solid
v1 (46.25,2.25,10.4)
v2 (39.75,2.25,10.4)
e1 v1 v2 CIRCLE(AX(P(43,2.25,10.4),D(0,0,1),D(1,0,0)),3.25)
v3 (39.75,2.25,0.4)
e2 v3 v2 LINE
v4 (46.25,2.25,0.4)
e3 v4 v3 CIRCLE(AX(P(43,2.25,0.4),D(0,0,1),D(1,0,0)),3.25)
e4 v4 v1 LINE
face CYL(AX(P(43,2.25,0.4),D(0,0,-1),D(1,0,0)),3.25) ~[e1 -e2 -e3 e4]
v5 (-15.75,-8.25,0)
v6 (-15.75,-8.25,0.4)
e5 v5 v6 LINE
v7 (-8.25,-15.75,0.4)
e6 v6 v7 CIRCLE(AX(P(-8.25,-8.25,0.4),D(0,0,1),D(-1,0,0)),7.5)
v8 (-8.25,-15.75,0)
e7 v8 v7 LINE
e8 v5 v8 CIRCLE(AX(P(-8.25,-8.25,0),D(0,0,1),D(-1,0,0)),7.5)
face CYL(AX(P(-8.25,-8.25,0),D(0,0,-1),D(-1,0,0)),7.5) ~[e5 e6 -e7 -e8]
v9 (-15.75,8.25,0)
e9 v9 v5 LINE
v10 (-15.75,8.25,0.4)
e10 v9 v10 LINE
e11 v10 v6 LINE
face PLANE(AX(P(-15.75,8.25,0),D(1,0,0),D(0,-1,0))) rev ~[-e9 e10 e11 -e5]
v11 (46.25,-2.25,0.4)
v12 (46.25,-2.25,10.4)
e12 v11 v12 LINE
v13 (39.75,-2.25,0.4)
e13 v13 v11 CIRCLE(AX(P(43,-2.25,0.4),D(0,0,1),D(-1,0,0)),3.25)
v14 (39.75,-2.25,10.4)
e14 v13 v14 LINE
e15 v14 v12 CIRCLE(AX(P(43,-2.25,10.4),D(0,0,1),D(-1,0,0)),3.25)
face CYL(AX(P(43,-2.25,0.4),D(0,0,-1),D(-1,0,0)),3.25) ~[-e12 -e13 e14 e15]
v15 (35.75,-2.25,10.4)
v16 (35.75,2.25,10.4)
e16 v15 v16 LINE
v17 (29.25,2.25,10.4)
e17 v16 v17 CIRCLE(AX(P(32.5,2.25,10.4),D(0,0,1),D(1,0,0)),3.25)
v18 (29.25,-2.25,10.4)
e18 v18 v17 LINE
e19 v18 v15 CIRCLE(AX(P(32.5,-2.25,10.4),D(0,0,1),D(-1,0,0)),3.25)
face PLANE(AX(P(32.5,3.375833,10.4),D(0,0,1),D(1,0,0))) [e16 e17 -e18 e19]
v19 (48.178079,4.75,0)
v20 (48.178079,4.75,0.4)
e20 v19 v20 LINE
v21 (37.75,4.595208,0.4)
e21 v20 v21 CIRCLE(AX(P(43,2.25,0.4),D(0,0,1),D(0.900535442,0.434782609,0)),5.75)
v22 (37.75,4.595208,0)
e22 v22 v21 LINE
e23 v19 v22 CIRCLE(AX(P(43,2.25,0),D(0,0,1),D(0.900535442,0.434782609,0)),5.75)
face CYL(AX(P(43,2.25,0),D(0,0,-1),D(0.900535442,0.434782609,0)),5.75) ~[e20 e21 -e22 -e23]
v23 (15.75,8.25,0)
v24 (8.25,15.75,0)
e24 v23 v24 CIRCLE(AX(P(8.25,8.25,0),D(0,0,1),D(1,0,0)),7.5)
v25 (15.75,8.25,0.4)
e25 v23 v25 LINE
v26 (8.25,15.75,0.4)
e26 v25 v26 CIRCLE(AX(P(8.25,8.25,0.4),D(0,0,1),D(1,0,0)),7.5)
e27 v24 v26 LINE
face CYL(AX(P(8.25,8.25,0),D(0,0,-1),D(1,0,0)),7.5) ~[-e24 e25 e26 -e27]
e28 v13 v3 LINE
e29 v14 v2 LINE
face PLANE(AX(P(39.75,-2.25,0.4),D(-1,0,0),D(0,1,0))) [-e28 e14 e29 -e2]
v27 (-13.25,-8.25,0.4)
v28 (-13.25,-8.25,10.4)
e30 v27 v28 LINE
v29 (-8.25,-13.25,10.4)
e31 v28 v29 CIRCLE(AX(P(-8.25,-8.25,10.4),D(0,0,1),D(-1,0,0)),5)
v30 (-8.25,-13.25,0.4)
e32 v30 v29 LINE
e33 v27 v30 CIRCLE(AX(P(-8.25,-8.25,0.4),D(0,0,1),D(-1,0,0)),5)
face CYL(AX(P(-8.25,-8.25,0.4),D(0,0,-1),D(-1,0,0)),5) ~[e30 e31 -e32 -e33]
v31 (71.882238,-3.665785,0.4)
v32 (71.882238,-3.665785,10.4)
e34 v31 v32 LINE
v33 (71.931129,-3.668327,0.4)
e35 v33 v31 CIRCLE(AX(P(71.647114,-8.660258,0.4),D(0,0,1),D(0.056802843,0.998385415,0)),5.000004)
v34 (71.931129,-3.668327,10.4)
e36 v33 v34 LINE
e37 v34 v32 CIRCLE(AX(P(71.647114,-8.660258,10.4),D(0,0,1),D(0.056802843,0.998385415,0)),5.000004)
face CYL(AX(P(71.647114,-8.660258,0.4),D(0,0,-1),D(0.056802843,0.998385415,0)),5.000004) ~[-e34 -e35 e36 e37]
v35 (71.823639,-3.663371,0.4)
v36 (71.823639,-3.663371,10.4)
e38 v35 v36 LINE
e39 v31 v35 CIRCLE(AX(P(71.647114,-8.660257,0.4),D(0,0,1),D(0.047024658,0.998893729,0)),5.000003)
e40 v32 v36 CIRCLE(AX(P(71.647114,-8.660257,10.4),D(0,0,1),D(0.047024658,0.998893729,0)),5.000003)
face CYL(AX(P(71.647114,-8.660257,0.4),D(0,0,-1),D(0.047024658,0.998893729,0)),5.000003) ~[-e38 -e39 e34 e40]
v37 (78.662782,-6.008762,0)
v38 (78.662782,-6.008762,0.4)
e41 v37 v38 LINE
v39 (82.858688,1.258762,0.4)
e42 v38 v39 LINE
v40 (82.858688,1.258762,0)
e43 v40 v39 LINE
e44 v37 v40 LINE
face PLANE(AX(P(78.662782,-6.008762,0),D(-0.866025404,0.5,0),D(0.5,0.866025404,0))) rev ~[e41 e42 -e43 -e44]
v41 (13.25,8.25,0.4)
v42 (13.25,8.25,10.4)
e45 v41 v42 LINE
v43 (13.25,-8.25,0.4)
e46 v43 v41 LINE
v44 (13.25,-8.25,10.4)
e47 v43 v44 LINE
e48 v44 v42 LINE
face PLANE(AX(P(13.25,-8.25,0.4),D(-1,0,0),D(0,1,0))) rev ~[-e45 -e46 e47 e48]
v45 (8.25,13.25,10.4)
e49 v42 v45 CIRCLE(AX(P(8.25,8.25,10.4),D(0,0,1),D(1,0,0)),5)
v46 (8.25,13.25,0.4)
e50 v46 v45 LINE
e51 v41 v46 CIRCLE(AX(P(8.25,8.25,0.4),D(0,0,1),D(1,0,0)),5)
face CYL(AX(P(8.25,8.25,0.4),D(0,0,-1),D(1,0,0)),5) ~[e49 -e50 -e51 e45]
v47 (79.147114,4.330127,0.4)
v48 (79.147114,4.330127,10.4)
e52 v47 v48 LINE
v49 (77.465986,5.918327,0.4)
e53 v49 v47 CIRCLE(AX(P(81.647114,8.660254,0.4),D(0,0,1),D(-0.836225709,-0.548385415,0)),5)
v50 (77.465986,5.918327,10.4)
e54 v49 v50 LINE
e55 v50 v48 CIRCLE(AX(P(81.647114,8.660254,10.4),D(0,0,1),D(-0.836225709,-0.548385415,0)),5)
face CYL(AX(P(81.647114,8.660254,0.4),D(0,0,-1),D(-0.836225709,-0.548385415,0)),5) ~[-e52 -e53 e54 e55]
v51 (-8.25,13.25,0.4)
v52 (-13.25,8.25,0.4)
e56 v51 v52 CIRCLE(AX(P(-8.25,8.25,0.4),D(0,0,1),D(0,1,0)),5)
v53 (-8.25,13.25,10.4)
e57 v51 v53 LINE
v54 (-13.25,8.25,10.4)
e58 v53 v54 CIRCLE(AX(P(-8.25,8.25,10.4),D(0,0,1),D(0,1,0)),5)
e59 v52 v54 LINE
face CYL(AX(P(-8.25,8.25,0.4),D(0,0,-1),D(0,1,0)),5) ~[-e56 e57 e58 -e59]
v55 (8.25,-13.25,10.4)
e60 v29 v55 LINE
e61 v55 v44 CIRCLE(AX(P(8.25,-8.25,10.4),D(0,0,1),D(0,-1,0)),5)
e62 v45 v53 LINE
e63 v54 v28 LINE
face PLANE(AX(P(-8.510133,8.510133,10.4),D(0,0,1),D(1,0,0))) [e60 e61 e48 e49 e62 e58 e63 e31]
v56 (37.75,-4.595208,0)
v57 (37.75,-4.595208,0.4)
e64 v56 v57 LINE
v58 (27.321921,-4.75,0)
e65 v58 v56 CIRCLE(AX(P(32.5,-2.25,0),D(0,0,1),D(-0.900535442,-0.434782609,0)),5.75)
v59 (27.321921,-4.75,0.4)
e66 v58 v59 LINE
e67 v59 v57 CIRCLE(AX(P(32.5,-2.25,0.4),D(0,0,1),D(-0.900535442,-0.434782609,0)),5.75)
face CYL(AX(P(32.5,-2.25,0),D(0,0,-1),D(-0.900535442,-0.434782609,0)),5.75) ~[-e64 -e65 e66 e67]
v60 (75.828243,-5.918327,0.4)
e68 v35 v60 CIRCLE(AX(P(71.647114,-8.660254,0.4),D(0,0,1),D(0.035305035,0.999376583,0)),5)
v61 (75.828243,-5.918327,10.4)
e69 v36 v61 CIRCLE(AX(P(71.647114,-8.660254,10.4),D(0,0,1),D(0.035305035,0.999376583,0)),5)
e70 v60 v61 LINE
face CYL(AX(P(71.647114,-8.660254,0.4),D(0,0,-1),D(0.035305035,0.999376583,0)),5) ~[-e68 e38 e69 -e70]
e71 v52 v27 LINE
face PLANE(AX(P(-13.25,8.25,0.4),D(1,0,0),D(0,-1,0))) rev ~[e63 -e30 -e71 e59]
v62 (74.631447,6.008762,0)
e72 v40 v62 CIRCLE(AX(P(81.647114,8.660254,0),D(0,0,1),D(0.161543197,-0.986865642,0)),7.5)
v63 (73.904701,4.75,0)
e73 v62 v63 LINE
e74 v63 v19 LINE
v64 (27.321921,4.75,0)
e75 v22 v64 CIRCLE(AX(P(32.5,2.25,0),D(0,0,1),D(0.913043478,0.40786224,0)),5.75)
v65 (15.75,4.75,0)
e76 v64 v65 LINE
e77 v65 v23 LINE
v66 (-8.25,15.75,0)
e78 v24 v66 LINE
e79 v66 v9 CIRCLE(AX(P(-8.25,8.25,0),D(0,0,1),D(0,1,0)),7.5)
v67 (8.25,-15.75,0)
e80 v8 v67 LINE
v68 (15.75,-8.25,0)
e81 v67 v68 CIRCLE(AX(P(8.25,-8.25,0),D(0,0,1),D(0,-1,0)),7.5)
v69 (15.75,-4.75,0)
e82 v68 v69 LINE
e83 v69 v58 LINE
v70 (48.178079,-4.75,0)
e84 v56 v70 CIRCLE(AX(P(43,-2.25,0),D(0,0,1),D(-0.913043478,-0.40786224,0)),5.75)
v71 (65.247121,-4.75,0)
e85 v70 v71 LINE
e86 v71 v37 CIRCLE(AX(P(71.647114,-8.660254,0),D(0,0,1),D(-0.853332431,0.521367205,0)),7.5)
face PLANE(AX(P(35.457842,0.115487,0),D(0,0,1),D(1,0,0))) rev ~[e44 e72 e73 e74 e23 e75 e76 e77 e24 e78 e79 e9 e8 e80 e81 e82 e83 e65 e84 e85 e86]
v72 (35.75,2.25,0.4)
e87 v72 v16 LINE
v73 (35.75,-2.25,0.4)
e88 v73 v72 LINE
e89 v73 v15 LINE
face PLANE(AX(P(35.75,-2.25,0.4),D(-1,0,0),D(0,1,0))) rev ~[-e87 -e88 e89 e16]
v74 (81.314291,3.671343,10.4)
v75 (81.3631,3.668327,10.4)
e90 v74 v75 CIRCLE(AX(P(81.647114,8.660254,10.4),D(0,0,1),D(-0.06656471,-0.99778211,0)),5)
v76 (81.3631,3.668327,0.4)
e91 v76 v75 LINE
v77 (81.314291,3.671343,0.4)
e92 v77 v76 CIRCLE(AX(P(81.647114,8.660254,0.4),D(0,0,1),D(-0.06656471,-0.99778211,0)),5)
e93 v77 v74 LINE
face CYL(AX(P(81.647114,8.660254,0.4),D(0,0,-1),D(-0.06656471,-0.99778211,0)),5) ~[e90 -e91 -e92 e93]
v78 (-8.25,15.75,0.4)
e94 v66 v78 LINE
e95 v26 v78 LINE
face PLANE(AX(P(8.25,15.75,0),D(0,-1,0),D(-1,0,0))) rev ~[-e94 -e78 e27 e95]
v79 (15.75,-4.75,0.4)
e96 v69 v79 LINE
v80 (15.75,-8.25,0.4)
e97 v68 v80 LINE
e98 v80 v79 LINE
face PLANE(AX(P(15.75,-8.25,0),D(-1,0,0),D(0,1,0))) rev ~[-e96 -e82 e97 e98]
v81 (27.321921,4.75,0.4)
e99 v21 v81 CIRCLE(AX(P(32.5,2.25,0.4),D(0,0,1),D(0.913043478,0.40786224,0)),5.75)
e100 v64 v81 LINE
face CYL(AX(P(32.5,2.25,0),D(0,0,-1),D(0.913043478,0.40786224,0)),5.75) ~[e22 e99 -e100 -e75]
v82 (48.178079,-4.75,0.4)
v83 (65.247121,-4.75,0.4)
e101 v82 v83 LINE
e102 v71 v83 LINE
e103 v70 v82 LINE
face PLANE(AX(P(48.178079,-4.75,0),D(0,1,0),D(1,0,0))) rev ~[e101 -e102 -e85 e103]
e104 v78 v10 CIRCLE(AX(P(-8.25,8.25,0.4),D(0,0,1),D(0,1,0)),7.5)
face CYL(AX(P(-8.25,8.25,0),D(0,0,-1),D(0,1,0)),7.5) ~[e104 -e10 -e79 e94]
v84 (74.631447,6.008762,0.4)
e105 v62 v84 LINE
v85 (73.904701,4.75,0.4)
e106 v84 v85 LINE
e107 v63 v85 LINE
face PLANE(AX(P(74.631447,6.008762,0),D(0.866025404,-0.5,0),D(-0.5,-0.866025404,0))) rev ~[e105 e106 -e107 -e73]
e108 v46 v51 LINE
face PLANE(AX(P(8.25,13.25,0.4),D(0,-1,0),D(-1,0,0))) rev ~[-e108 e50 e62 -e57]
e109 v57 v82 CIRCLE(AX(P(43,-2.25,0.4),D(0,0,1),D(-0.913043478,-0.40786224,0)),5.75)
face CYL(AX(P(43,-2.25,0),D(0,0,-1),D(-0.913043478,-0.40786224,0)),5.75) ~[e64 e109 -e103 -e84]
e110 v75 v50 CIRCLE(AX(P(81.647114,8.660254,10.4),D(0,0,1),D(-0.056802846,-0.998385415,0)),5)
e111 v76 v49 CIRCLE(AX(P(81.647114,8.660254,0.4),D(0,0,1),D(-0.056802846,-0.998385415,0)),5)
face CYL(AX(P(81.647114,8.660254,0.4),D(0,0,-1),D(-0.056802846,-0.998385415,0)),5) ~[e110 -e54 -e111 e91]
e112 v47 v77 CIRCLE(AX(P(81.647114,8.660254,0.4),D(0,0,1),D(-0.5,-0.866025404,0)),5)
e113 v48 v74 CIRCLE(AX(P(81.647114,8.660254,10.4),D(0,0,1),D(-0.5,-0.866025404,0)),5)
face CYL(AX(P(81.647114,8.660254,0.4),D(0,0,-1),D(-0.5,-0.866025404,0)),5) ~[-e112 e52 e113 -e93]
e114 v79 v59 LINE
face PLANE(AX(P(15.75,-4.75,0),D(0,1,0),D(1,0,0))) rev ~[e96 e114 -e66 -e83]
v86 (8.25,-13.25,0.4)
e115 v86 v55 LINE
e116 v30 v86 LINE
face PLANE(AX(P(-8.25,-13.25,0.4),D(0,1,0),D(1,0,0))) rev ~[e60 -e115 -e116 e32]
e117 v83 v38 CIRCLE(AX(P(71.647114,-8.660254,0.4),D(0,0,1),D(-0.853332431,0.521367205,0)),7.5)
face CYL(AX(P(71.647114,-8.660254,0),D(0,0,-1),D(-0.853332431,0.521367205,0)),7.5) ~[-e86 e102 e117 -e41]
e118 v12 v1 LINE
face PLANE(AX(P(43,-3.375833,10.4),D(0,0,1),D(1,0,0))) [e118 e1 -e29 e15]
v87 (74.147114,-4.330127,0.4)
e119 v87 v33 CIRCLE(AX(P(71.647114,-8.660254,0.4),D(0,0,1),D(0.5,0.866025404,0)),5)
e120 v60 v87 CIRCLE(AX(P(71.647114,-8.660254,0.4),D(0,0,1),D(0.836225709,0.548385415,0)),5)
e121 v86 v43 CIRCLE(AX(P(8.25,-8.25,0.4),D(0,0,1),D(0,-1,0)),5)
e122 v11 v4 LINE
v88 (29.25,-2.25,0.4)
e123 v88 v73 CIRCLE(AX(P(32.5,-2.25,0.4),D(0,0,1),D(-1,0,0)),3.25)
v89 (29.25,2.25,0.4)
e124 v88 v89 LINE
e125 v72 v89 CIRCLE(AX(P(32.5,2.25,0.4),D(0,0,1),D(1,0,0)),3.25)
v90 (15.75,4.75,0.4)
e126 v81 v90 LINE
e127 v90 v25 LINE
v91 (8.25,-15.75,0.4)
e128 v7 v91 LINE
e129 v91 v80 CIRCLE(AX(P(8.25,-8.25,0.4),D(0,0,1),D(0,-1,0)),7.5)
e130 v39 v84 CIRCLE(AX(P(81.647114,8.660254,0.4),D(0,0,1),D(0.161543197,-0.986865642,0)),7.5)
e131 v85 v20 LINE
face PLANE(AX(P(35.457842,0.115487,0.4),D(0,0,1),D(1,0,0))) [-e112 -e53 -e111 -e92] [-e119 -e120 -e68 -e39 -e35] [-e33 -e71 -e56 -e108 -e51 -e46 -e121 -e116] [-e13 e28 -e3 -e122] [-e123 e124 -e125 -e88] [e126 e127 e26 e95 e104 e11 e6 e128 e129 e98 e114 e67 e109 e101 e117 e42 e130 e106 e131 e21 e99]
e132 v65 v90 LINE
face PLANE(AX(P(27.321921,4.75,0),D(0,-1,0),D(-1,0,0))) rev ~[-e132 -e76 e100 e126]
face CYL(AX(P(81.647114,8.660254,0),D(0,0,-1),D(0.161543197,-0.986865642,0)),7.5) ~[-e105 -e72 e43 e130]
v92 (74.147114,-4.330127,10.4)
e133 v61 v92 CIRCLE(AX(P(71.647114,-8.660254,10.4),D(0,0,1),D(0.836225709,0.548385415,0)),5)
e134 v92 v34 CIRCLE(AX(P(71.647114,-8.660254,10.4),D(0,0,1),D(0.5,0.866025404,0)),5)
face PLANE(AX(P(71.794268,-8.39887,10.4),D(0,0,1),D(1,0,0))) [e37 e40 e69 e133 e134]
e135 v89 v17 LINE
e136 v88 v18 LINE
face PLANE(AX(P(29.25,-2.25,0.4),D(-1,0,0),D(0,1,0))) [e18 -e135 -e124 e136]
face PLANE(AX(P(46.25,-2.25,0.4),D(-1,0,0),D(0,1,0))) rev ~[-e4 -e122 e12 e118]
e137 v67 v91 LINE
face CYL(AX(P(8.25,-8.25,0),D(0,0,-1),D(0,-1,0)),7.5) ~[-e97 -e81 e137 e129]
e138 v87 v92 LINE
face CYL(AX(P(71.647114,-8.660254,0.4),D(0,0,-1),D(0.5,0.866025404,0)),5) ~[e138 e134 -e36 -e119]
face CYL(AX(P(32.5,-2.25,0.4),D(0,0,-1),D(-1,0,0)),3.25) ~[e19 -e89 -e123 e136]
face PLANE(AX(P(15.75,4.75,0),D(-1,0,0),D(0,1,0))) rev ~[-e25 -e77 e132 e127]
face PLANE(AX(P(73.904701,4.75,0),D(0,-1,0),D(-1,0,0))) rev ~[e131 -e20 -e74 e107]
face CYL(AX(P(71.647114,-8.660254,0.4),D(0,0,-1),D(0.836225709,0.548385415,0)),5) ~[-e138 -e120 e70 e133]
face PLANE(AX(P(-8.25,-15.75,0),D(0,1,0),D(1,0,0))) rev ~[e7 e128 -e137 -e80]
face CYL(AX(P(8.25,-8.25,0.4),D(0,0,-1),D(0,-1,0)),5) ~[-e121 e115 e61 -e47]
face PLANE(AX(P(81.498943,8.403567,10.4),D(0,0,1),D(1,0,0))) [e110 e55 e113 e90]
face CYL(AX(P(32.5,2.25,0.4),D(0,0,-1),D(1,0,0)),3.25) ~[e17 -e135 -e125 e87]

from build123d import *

# Parameters (mm, degrees)
F0_W     = 6.5
F0_H     = 4.5
F0_W_2   = 4
F1_DEPTH = 0.4
F2_W     = 6.5
F2_H     = 4.5
F3_DEPTH = 10


with BuildPart() as f1:
    # F0 (on Top) → F1 (new body)
    with BuildSketch(Plane.XY):
        with BuildLine():
            ThreePointArc((37.75, -4.5952078799), (42.9146576596, -7.9993666334), (48.1780787943, -4.75))
            Line((48.1780787943, -4.75), (65.2471210858, -4.75))
            ThreePointArc((65.2471210858, -4.75), (70.9464832256, -16.1274567319), (78.6627816766, -6.0087617221))
            Line((78.6627816766, -6.0087617221), (82.8586882934, 1.2587617221))
            ThreePointArc((82.8586882934, 1.2587617221), (85.397114317, 15.1554445662), (74.6314469575, 6.0087617221))
            Line((74.6314469575, 6.0087617221), (73.9047005384, 4.75))
            Line((73.9047005384, 4.75), (48.1780787943, 4.75))
            ThreePointArc((48.1780787943, 4.75), (42.9146576596, 7.9993666334), (37.75, 4.5952078799))
            ThreePointArc((37.75, 4.5952078799), (32.5853423404, 7.9993666334), (27.3219212057, 4.75))
            Line((27.3219212057, 4.75), (15.75, 4.75))
            Line((15.75, 4.75), (15.75, 8.25))
            ThreePointArc((15.75, 8.25), (13.5533008589, 13.5533008589), (8.25, 15.75))
            Line((8.25, 15.75), (-8.25, 15.75))
            ThreePointArc((-8.25, 15.75), (-13.5533008589, 13.5533008589), (-15.75, 8.25))
            Line((-15.75, 8.25), (-15.75, -8.25))
            ThreePointArc((-15.75, -8.25), (-13.5533008589, -13.5533008589), (-8.25, -15.75))
            Line((-8.25, -15.75), (8.25, -15.75))
            ThreePointArc((8.25, -15.75), (13.5533008589, -13.5533008589), (15.75, -8.25))
            Line((15.75, -8.25), (15.75, -4.75))
            Line((15.75, -4.75), (27.3219212057, -4.75))
            ThreePointArc((27.3219212057, -4.75), (32.5853423404, -7.9993666334), (37.75, -4.5952078799))
        make_face()
        with BuildLine():
            ThreePointArc((-13.25, 8.25), (-11.7855339059, 11.7855339059), (-8.25, 13.25))
            Line((-8.25, 13.25), (-4.5, 13.25))
            Line((-4.5, 13.25), (4.5, 13.25))
            Line((4.5, 13.25), (8.25, 13.25))
            ThreePointArc((8.25, 13.25), (11.7855339059, 11.7855339059), (13.25, 8.25))
            Line((13.25, 8.25), (13.25, 4.5))
            Line((13.25, 4.5), (13.25, 2.25))
            Line((13.25, 2.25), (29.25, 2.25))
            ThreePointArc((29.25, 2.25), (32.5, 5.5), (35.75, 2.25))
            Line((35.75, 2.25), (39.75, 2.25))
            ThreePointArc((39.75, 2.25), (43, 5.5), (46.25, 2.25))
            Line((46.25, 2.25), (75.3480762114, 2.25))
            Line((75.3480762114, 2.25), (77.4659857711, 5.9183269633))
            ThreePointArc((77.4659857711, 5.9183269633), (84.147114317, 12.9903810568), (81.3631000881, 3.6683269633))
            Line((81.3631000881, 3.6683269633), (75.828242863, -5.9183269633))
            ThreePointArc((75.828242863, -5.9183269633), (69.1938526202, -13.0170311778), (71.8236394943, -3.6633711233))
            ThreePointArc((71.8236394943, -3.6633711233), (71.8529421017, -3.6644923419), (71.8822376294, -3.6657853946))
            ThreePointArc((71.8822376294, -3.6657853946), (71.9066861984, -3.6669963399), (71.931128546, -3.6683269633))
            Line((71.931128546, -3.6683269633), (72.75, -2.25))
            Line((72.75, -2.25), (46.25, -2.25))
            ThreePointArc((46.25, -2.25), (43, -5.5), (39.75, -2.25))
            Line((39.75, -2.25), (35.75, -2.25))
            ThreePointArc((35.75, -2.25), (32.5, -5.5), (29.25, -2.25))
            Line((29.25, -2.25), (13.25, -2.25))
            Line((13.25, -2.25), (13.25, -4.5))
            Line((13.25, -4.5), (13.25, -8.25))
            ThreePointArc((13.25, -8.25), (11.7855339059, -11.7855339059), (8.25, -13.25))
            Line((8.25, -13.25), (4.5, -13.25))
            Line((4.5, -13.25), (-4.5, -13.25))
            Line((-4.5, -13.25), (-8.25, -13.25))
            ThreePointArc((-8.25, -13.25), (-11.7855339059, -11.7855339059), (-13.25, -8.25))
            Line((-13.25, -8.25), (-13.25, -4.5))
            Line((-13.25, -4.5), (-13.25, 4.5))
            Line((-13.25, 4.5), (-13.25, 8.25))
        make_face(mode=Mode.SUBTRACT)
        Polygon((75.3480762114, 2.25), (46.25, 2.25), (46.25, -2.25), (72.75, -2.25), align=None)
        Polygon((-4.5, 0), (-4.5, 4.5), (-13.25, 4.5), (-13.25, -4.5), (-4.5, -4.5), align=None)
        Polygon((13.25, 4.5), (4.5, 4.5), (4.5, 0), (4.5, -4.5), (13.25, -4.5), (13.25, -2.25), (13.25, -2.0446819253), (13.25, 2.25), align=None)
        Polygon((4.5, -4.5), (0, -4.5), (-4.5, -4.5), (-4.5, -13.25), (4.5, -13.25), align=None)
        Polygon((4.5, 13.25), (-4.5, 13.25), (-4.5, 4.5), (0, 4.5), (4.5, 4.5), align=None)
        with BuildLine():
            ThreePointArc((75.828242863, -5.9183269633), (74.147114317, -4.3301270189), (71.931128546, -3.6683269633))
            ThreePointArc((71.931128546, -3.6683269633), (71.9066861984, -3.6669963399), (71.8822376294, -3.6657853946))
            ThreePointArc((71.8822376294, -3.6657853946), (71.8529421017, -3.6644923419), (71.8236394943, -3.6633711233))
            ThreePointArc((71.8236394943, -3.6633711233), (69.1938526202, -13.0170311778), (75.828242863, -5.9183269633))
        make_face()
        with BuildLine():
            ThreePointArc((81.3631000881, 3.6683269633), (84.147114317, 12.9903810568), (77.4659857711, 5.9183269633))
            ThreePointArc((77.4659857711, 5.9183269633), (79.1259688283, 4.3424044081), (81.3142907631, 3.6713434872))
            ThreePointArc((81.3142907631, 3.6713434872), (81.3386917377, 3.6697755525), (81.3631000881, 3.6683269633))
        make_face()
        Polygon((29.25, 2.25), (13.25, 2.25), (13.25, -2.0446819253), (13.25, -2.25), (29.25, -2.25), align=None)
        with BuildLine():
            Line((13.25, -4.5), (4.5, -4.5))
            Line((4.5, -4.5), (4.5, -13.25))
            Line((4.5, -13.25), (8.25, -13.25))
            ThreePointArc((8.25, -13.25), (11.7855339059, -11.7855339059), (13.25, -8.25))
            Line((13.25, -8.25), (13.25, -4.5))
        make_face()
        with BuildLine():
            Line((-4.5, 13.25), (-8.25, 13.25))
            ThreePointArc((-8.25, 13.25), (-11.7855339059, 11.7855339059), (-13.25, 8.25))
            Line((-13.25, 8.25), (-13.25, 4.5))
            Line((-13.25, 4.5), (-4.5, 4.5))
            Line((-4.5, 4.5), (-4.5, 13.25))
        make_face()
        with BuildLine():
            Line((8.25, 13.25), (4.5, 13.25))
            Line((4.5, 13.25), (4.5, 4.5))
            Line((4.5, 4.5), (13.25, 4.5))
            Line((13.25, 4.5), (13.25, 8.25))
            ThreePointArc((13.25, 8.25), (11.7855339059, 11.7855339059), (8.25, 13.25))
        make_face()
        with BuildLine():
            Line((-4.5, -4.5), (-13.25, -4.5))
            Line((-13.25, -4.5), (-13.25, -8.25))
            ThreePointArc((-13.25, -8.25), (-11.7855339059, -11.7855339059), (-8.25, -13.25))
            Line((-8.25, -13.25), (-4.5, -13.25))
            Line((-4.5, -13.25), (-4.5, -4.5))
        make_face()
        with BuildLine():
            ThreePointArc((0, 4.5), (-3.1819805153, 3.1819805153), (-4.5, 0))
            ThreePointArc((-4.5, 0), (-3.1819805153, -3.1819805153), (0, -4.5))
            ThreePointArc((0, -4.5), (3.1819805153, -3.1819805153), (4.5, 0))
            ThreePointArc((4.5, 0), (3.1819805153, 3.1819805153), (0, 4.5))
        make_face()
        with BuildLine():
            Line((77.4659857711, 5.9183269633), (75.3480762114, 2.25))
            Line((75.3480762114, 2.25), (72.75, -2.25))
            Line((72.75, -2.25), (71.931128546, -3.6683269633))
            ThreePointArc((71.931128546, -3.6683269633), (74.147114317, -4.3301270189), (75.828242863, -5.9183269633))
            Line((75.828242863, -5.9183269633), (81.3631000881, 3.6683269633))
            ThreePointArc((81.3631000881, 3.6683269633), (81.3386917377, 3.6697755525), (81.3142907631, 3.6713434872))
            ThreePointArc((81.3142907631, 3.6713434872), (79.1259688283, 4.3424044081), (77.4659857711, 5.9183269633))
        make_face()
        with Locations((32.5, 0)):
            Rectangle(F0_W, F0_H)
        with Locations((43, 0)):
            Rectangle(F0_W, F0_H)
        with Locations((37.75, 0)):
            Rectangle(F0_W_2, F0_H)
        with BuildLine():
            Line((46.25, -2.25), (39.75, -2.25))
            ThreePointArc((39.75, -2.25), (43, -5.5), (46.25, -2.25))
        make_face()
        with BuildLine():
            ThreePointArc((46.25, 2.25), (43, 5.5), (39.75, 2.25))
            Line((39.75, 2.25), (46.25, 2.25))
        make_face()
        with BuildLine():
            Line((35.75, -2.25), (29.25, -2.25))
            ThreePointArc((29.25, -2.25), (32.5, -5.5), (35.75, -2.25))
        make_face()
        with BuildLine():
            ThreePointArc((35.75, 2.25), (32.5, 5.5), (29.25, 2.25))
            Line((29.25, 2.25), (35.75, 2.25))
        make_face()
        with BuildLine():
            Line((4.5, 0), (4.5, 4.5))
            Line((4.5, 4.5), (0, 4.5))
            ThreePointArc((0, 4.5), (3.1819805153, 3.1819805153), (4.5, 0))
        make_face()
        with BuildLine():
            Line((0, 4.5), (-4.5, 4.5))
            Line((-4.5, 4.5), (-4.5, 0))
            ThreePointArc((-4.5, 0), (-3.1819805153, 3.1819805153), (0, 4.5))
        make_face()
        with BuildLine():
            ThreePointArc((0, -4.5), (-3.1819805153, -3.1819805153), (-4.5, 0))
            Line((-4.5, 0), (-4.5, -4.5))
            Line((-4.5, -4.5), (0, -4.5))
        make_face()
        with BuildLine():
            Line((4.5, -4.5), (4.5, 0))
            ThreePointArc((4.5, 0), (3.1819805153, -3.1819805153), (0, -4.5))
            Line((0, -4.5), (4.5, -4.5))
        make_face()
    extrude(amount=F1_DEPTH)

    # F2 (on face) → F3 (join)
    with BuildSketch(Plane.XY.offset(0.4)):
        with BuildLine():
            Line((-4.5, 13.25), (-8.25, 13.25))
            ThreePointArc((-8.25, 13.25), (-11.7855339059, 11.7855339059), (-13.25, 8.25))
            Line((-13.25, 8.25), (-13.25, 4.5))
            Line((-13.25, 4.5), (-4.5, 4.5))
            Line((-4.5, 4.5), (-4.5, 13.25))
        make_face()
        Polygon((4.5, 13.25), (-4.5, 13.25), (-4.5, 4.5), (0, 4.5), (4.5, 4.5), align=None)
        with BuildLine():
            Line((8.25, 13.25), (4.5, 13.25))
            Line((4.5, 13.25), (4.5, 4.5))
            Line((4.5, 4.5), (13.25, 4.5))
            Line((13.25, 4.5), (13.25, 8.25))
            ThreePointArc((13.25, 8.25), (11.7855339059, 11.7855339059), (8.25, 13.25))
        make_face()
        Polygon((13.25, 4.5), (4.5, 4.5), (4.5, 0), (4.5, -4.5), (13.25, -4.5), (13.25, -2.25), (13.25, -2.0446819253), (13.25, 2.25), align=None)
        with BuildLine():
            Line((13.25, -4.5), (4.5, -4.5))
            Line((4.5, -4.5), (4.5, -13.25))
            Line((4.5, -13.25), (8.25, -13.25))
            ThreePointArc((8.25, -13.25), (11.7855339059, -11.7855339059), (13.25, -8.25))
            Line((13.25, -8.25), (13.25, -4.5))
        make_face()
        Polygon((4.5, -4.5), (0, -4.5), (-4.5, -4.5), (-4.5, -13.25), (4.5, -13.25), align=None)
        with BuildLine():
            Line((-4.5, -4.5), (-13.25, -4.5))
            Line((-13.25, -4.5), (-13.25, -8.25))
            ThreePointArc((-13.25, -8.25), (-11.7855339059, -11.7855339059), (-8.25, -13.25))
            Line((-8.25, -13.25), (-4.5, -13.25))
            Line((-4.5, -13.25), (-4.5, -4.5))
        make_face()
        Polygon((-4.5, 0), (-4.5, 4.5), (-13.25, 4.5), (-13.25, -4.5), (-4.5, -4.5), align=None)
        with BuildLine():
            ThreePointArc((0, 4.5), (-3.1819805153, 3.1819805153), (-4.5, 0))
            ThreePointArc((-4.5, 0), (-3.1819805153, -3.1819805153), (0, -4.5))
            ThreePointArc((0, -4.5), (3.1819805153, -3.1819805153), (4.5, 0))
            ThreePointArc((4.5, 0), (3.1819805153, 3.1819805153), (0, 4.5))
        make_face()
        with BuildLine():
            Line((4.5, -4.5), (4.5, 0))
            ThreePointArc((4.5, 0), (3.1819805153, -3.1819805153), (0, -4.5))
            Line((0, -4.5), (4.5, -4.5))
        make_face()
        with BuildLine():
            Line((4.5, 0), (4.5, 4.5))
            Line((4.5, 4.5), (0, 4.5))
            ThreePointArc((0, 4.5), (3.1819805153, 3.1819805153), (4.5, 0))
        make_face()
        with BuildLine():
            Line((0, 4.5), (-4.5, 4.5))
            Line((-4.5, 4.5), (-4.5, 0))
            ThreePointArc((-4.5, 0), (-3.1819805153, 3.1819805153), (0, 4.5))
        make_face()
        with BuildLine():
            ThreePointArc((0, -4.5), (-3.1819805153, -3.1819805153), (-4.5, 0))
            Line((-4.5, 0), (-4.5, -4.5))
            Line((-4.5, -4.5), (0, -4.5))
        make_face()
        with BuildLine():
            ThreePointArc((35.75, 2.25), (32.5, 5.5), (29.25, 2.25))
            Line((29.25, 2.25), (35.75, 2.25))
        make_face()
        with Locations((32.5, 0)):
            Rectangle(F2_W, F2_H)
        with BuildLine():
            Line((35.75, -2.25), (29.25, -2.25))
            ThreePointArc((29.25, -2.25), (32.5, -5.5), (35.75, -2.25))
        make_face()
        with BuildLine():
            Line((46.25, -2.25), (39.75, -2.25))
            ThreePointArc((39.75, -2.25), (43, -5.5), (46.25, -2.25))
        make_face()
        with Locations((43, 0)):
            Rectangle(F2_W, F2_H)
        with BuildLine():
            ThreePointArc((46.25, 2.25), (43, 5.5), (39.75, 2.25))
            Line((39.75, 2.25), (46.25, 2.25))
        make_face()
        with BuildLine():
            ThreePointArc((81.3631000881, 3.6683269633), (84.147114317, 12.9903810568), (77.4659857711, 5.9183269633))
            ThreePointArc((77.4659857711, 5.9183269633), (78.2134625543, 5.0256927751), (79.147114317, 4.3301270189))
            ThreePointArc((79.147114317, 4.3301270189), (80.1929061967, 3.8763979841), (81.3142907631, 3.6713434872))
            ThreePointArc((81.3142907631, 3.6713434872), (81.3386917377, 3.6697755525), (81.3631000881, 3.6683269633))
        make_face()
        with BuildLine():
            ThreePointArc((74.147114317, -4.3301270189), (73.0779108208, -3.8693437522), (71.931128546, -3.6683269633))
            ThreePointArc((71.931128546, -3.6683269633), (71.9066861984, -3.6669963399), (71.8822376294, -3.6657853946))
            ThreePointArc((71.8822376294, -3.6657853946), (71.8529421017, -3.6644923419), (71.8236394943, -3.6633711233))
            ThreePointArc((71.8236394943, -3.6633711233), (69.1938526202, -13.0170311778), (75.828242863, -5.9183269633))
            ThreePointArc((75.828242863, -5.9183269633), (75.0807660798, -5.0256927751), (74.147114317, -4.3301270189))
        make_face()
    extrude(amount=F3_DEPTH)


solid = f1.part
